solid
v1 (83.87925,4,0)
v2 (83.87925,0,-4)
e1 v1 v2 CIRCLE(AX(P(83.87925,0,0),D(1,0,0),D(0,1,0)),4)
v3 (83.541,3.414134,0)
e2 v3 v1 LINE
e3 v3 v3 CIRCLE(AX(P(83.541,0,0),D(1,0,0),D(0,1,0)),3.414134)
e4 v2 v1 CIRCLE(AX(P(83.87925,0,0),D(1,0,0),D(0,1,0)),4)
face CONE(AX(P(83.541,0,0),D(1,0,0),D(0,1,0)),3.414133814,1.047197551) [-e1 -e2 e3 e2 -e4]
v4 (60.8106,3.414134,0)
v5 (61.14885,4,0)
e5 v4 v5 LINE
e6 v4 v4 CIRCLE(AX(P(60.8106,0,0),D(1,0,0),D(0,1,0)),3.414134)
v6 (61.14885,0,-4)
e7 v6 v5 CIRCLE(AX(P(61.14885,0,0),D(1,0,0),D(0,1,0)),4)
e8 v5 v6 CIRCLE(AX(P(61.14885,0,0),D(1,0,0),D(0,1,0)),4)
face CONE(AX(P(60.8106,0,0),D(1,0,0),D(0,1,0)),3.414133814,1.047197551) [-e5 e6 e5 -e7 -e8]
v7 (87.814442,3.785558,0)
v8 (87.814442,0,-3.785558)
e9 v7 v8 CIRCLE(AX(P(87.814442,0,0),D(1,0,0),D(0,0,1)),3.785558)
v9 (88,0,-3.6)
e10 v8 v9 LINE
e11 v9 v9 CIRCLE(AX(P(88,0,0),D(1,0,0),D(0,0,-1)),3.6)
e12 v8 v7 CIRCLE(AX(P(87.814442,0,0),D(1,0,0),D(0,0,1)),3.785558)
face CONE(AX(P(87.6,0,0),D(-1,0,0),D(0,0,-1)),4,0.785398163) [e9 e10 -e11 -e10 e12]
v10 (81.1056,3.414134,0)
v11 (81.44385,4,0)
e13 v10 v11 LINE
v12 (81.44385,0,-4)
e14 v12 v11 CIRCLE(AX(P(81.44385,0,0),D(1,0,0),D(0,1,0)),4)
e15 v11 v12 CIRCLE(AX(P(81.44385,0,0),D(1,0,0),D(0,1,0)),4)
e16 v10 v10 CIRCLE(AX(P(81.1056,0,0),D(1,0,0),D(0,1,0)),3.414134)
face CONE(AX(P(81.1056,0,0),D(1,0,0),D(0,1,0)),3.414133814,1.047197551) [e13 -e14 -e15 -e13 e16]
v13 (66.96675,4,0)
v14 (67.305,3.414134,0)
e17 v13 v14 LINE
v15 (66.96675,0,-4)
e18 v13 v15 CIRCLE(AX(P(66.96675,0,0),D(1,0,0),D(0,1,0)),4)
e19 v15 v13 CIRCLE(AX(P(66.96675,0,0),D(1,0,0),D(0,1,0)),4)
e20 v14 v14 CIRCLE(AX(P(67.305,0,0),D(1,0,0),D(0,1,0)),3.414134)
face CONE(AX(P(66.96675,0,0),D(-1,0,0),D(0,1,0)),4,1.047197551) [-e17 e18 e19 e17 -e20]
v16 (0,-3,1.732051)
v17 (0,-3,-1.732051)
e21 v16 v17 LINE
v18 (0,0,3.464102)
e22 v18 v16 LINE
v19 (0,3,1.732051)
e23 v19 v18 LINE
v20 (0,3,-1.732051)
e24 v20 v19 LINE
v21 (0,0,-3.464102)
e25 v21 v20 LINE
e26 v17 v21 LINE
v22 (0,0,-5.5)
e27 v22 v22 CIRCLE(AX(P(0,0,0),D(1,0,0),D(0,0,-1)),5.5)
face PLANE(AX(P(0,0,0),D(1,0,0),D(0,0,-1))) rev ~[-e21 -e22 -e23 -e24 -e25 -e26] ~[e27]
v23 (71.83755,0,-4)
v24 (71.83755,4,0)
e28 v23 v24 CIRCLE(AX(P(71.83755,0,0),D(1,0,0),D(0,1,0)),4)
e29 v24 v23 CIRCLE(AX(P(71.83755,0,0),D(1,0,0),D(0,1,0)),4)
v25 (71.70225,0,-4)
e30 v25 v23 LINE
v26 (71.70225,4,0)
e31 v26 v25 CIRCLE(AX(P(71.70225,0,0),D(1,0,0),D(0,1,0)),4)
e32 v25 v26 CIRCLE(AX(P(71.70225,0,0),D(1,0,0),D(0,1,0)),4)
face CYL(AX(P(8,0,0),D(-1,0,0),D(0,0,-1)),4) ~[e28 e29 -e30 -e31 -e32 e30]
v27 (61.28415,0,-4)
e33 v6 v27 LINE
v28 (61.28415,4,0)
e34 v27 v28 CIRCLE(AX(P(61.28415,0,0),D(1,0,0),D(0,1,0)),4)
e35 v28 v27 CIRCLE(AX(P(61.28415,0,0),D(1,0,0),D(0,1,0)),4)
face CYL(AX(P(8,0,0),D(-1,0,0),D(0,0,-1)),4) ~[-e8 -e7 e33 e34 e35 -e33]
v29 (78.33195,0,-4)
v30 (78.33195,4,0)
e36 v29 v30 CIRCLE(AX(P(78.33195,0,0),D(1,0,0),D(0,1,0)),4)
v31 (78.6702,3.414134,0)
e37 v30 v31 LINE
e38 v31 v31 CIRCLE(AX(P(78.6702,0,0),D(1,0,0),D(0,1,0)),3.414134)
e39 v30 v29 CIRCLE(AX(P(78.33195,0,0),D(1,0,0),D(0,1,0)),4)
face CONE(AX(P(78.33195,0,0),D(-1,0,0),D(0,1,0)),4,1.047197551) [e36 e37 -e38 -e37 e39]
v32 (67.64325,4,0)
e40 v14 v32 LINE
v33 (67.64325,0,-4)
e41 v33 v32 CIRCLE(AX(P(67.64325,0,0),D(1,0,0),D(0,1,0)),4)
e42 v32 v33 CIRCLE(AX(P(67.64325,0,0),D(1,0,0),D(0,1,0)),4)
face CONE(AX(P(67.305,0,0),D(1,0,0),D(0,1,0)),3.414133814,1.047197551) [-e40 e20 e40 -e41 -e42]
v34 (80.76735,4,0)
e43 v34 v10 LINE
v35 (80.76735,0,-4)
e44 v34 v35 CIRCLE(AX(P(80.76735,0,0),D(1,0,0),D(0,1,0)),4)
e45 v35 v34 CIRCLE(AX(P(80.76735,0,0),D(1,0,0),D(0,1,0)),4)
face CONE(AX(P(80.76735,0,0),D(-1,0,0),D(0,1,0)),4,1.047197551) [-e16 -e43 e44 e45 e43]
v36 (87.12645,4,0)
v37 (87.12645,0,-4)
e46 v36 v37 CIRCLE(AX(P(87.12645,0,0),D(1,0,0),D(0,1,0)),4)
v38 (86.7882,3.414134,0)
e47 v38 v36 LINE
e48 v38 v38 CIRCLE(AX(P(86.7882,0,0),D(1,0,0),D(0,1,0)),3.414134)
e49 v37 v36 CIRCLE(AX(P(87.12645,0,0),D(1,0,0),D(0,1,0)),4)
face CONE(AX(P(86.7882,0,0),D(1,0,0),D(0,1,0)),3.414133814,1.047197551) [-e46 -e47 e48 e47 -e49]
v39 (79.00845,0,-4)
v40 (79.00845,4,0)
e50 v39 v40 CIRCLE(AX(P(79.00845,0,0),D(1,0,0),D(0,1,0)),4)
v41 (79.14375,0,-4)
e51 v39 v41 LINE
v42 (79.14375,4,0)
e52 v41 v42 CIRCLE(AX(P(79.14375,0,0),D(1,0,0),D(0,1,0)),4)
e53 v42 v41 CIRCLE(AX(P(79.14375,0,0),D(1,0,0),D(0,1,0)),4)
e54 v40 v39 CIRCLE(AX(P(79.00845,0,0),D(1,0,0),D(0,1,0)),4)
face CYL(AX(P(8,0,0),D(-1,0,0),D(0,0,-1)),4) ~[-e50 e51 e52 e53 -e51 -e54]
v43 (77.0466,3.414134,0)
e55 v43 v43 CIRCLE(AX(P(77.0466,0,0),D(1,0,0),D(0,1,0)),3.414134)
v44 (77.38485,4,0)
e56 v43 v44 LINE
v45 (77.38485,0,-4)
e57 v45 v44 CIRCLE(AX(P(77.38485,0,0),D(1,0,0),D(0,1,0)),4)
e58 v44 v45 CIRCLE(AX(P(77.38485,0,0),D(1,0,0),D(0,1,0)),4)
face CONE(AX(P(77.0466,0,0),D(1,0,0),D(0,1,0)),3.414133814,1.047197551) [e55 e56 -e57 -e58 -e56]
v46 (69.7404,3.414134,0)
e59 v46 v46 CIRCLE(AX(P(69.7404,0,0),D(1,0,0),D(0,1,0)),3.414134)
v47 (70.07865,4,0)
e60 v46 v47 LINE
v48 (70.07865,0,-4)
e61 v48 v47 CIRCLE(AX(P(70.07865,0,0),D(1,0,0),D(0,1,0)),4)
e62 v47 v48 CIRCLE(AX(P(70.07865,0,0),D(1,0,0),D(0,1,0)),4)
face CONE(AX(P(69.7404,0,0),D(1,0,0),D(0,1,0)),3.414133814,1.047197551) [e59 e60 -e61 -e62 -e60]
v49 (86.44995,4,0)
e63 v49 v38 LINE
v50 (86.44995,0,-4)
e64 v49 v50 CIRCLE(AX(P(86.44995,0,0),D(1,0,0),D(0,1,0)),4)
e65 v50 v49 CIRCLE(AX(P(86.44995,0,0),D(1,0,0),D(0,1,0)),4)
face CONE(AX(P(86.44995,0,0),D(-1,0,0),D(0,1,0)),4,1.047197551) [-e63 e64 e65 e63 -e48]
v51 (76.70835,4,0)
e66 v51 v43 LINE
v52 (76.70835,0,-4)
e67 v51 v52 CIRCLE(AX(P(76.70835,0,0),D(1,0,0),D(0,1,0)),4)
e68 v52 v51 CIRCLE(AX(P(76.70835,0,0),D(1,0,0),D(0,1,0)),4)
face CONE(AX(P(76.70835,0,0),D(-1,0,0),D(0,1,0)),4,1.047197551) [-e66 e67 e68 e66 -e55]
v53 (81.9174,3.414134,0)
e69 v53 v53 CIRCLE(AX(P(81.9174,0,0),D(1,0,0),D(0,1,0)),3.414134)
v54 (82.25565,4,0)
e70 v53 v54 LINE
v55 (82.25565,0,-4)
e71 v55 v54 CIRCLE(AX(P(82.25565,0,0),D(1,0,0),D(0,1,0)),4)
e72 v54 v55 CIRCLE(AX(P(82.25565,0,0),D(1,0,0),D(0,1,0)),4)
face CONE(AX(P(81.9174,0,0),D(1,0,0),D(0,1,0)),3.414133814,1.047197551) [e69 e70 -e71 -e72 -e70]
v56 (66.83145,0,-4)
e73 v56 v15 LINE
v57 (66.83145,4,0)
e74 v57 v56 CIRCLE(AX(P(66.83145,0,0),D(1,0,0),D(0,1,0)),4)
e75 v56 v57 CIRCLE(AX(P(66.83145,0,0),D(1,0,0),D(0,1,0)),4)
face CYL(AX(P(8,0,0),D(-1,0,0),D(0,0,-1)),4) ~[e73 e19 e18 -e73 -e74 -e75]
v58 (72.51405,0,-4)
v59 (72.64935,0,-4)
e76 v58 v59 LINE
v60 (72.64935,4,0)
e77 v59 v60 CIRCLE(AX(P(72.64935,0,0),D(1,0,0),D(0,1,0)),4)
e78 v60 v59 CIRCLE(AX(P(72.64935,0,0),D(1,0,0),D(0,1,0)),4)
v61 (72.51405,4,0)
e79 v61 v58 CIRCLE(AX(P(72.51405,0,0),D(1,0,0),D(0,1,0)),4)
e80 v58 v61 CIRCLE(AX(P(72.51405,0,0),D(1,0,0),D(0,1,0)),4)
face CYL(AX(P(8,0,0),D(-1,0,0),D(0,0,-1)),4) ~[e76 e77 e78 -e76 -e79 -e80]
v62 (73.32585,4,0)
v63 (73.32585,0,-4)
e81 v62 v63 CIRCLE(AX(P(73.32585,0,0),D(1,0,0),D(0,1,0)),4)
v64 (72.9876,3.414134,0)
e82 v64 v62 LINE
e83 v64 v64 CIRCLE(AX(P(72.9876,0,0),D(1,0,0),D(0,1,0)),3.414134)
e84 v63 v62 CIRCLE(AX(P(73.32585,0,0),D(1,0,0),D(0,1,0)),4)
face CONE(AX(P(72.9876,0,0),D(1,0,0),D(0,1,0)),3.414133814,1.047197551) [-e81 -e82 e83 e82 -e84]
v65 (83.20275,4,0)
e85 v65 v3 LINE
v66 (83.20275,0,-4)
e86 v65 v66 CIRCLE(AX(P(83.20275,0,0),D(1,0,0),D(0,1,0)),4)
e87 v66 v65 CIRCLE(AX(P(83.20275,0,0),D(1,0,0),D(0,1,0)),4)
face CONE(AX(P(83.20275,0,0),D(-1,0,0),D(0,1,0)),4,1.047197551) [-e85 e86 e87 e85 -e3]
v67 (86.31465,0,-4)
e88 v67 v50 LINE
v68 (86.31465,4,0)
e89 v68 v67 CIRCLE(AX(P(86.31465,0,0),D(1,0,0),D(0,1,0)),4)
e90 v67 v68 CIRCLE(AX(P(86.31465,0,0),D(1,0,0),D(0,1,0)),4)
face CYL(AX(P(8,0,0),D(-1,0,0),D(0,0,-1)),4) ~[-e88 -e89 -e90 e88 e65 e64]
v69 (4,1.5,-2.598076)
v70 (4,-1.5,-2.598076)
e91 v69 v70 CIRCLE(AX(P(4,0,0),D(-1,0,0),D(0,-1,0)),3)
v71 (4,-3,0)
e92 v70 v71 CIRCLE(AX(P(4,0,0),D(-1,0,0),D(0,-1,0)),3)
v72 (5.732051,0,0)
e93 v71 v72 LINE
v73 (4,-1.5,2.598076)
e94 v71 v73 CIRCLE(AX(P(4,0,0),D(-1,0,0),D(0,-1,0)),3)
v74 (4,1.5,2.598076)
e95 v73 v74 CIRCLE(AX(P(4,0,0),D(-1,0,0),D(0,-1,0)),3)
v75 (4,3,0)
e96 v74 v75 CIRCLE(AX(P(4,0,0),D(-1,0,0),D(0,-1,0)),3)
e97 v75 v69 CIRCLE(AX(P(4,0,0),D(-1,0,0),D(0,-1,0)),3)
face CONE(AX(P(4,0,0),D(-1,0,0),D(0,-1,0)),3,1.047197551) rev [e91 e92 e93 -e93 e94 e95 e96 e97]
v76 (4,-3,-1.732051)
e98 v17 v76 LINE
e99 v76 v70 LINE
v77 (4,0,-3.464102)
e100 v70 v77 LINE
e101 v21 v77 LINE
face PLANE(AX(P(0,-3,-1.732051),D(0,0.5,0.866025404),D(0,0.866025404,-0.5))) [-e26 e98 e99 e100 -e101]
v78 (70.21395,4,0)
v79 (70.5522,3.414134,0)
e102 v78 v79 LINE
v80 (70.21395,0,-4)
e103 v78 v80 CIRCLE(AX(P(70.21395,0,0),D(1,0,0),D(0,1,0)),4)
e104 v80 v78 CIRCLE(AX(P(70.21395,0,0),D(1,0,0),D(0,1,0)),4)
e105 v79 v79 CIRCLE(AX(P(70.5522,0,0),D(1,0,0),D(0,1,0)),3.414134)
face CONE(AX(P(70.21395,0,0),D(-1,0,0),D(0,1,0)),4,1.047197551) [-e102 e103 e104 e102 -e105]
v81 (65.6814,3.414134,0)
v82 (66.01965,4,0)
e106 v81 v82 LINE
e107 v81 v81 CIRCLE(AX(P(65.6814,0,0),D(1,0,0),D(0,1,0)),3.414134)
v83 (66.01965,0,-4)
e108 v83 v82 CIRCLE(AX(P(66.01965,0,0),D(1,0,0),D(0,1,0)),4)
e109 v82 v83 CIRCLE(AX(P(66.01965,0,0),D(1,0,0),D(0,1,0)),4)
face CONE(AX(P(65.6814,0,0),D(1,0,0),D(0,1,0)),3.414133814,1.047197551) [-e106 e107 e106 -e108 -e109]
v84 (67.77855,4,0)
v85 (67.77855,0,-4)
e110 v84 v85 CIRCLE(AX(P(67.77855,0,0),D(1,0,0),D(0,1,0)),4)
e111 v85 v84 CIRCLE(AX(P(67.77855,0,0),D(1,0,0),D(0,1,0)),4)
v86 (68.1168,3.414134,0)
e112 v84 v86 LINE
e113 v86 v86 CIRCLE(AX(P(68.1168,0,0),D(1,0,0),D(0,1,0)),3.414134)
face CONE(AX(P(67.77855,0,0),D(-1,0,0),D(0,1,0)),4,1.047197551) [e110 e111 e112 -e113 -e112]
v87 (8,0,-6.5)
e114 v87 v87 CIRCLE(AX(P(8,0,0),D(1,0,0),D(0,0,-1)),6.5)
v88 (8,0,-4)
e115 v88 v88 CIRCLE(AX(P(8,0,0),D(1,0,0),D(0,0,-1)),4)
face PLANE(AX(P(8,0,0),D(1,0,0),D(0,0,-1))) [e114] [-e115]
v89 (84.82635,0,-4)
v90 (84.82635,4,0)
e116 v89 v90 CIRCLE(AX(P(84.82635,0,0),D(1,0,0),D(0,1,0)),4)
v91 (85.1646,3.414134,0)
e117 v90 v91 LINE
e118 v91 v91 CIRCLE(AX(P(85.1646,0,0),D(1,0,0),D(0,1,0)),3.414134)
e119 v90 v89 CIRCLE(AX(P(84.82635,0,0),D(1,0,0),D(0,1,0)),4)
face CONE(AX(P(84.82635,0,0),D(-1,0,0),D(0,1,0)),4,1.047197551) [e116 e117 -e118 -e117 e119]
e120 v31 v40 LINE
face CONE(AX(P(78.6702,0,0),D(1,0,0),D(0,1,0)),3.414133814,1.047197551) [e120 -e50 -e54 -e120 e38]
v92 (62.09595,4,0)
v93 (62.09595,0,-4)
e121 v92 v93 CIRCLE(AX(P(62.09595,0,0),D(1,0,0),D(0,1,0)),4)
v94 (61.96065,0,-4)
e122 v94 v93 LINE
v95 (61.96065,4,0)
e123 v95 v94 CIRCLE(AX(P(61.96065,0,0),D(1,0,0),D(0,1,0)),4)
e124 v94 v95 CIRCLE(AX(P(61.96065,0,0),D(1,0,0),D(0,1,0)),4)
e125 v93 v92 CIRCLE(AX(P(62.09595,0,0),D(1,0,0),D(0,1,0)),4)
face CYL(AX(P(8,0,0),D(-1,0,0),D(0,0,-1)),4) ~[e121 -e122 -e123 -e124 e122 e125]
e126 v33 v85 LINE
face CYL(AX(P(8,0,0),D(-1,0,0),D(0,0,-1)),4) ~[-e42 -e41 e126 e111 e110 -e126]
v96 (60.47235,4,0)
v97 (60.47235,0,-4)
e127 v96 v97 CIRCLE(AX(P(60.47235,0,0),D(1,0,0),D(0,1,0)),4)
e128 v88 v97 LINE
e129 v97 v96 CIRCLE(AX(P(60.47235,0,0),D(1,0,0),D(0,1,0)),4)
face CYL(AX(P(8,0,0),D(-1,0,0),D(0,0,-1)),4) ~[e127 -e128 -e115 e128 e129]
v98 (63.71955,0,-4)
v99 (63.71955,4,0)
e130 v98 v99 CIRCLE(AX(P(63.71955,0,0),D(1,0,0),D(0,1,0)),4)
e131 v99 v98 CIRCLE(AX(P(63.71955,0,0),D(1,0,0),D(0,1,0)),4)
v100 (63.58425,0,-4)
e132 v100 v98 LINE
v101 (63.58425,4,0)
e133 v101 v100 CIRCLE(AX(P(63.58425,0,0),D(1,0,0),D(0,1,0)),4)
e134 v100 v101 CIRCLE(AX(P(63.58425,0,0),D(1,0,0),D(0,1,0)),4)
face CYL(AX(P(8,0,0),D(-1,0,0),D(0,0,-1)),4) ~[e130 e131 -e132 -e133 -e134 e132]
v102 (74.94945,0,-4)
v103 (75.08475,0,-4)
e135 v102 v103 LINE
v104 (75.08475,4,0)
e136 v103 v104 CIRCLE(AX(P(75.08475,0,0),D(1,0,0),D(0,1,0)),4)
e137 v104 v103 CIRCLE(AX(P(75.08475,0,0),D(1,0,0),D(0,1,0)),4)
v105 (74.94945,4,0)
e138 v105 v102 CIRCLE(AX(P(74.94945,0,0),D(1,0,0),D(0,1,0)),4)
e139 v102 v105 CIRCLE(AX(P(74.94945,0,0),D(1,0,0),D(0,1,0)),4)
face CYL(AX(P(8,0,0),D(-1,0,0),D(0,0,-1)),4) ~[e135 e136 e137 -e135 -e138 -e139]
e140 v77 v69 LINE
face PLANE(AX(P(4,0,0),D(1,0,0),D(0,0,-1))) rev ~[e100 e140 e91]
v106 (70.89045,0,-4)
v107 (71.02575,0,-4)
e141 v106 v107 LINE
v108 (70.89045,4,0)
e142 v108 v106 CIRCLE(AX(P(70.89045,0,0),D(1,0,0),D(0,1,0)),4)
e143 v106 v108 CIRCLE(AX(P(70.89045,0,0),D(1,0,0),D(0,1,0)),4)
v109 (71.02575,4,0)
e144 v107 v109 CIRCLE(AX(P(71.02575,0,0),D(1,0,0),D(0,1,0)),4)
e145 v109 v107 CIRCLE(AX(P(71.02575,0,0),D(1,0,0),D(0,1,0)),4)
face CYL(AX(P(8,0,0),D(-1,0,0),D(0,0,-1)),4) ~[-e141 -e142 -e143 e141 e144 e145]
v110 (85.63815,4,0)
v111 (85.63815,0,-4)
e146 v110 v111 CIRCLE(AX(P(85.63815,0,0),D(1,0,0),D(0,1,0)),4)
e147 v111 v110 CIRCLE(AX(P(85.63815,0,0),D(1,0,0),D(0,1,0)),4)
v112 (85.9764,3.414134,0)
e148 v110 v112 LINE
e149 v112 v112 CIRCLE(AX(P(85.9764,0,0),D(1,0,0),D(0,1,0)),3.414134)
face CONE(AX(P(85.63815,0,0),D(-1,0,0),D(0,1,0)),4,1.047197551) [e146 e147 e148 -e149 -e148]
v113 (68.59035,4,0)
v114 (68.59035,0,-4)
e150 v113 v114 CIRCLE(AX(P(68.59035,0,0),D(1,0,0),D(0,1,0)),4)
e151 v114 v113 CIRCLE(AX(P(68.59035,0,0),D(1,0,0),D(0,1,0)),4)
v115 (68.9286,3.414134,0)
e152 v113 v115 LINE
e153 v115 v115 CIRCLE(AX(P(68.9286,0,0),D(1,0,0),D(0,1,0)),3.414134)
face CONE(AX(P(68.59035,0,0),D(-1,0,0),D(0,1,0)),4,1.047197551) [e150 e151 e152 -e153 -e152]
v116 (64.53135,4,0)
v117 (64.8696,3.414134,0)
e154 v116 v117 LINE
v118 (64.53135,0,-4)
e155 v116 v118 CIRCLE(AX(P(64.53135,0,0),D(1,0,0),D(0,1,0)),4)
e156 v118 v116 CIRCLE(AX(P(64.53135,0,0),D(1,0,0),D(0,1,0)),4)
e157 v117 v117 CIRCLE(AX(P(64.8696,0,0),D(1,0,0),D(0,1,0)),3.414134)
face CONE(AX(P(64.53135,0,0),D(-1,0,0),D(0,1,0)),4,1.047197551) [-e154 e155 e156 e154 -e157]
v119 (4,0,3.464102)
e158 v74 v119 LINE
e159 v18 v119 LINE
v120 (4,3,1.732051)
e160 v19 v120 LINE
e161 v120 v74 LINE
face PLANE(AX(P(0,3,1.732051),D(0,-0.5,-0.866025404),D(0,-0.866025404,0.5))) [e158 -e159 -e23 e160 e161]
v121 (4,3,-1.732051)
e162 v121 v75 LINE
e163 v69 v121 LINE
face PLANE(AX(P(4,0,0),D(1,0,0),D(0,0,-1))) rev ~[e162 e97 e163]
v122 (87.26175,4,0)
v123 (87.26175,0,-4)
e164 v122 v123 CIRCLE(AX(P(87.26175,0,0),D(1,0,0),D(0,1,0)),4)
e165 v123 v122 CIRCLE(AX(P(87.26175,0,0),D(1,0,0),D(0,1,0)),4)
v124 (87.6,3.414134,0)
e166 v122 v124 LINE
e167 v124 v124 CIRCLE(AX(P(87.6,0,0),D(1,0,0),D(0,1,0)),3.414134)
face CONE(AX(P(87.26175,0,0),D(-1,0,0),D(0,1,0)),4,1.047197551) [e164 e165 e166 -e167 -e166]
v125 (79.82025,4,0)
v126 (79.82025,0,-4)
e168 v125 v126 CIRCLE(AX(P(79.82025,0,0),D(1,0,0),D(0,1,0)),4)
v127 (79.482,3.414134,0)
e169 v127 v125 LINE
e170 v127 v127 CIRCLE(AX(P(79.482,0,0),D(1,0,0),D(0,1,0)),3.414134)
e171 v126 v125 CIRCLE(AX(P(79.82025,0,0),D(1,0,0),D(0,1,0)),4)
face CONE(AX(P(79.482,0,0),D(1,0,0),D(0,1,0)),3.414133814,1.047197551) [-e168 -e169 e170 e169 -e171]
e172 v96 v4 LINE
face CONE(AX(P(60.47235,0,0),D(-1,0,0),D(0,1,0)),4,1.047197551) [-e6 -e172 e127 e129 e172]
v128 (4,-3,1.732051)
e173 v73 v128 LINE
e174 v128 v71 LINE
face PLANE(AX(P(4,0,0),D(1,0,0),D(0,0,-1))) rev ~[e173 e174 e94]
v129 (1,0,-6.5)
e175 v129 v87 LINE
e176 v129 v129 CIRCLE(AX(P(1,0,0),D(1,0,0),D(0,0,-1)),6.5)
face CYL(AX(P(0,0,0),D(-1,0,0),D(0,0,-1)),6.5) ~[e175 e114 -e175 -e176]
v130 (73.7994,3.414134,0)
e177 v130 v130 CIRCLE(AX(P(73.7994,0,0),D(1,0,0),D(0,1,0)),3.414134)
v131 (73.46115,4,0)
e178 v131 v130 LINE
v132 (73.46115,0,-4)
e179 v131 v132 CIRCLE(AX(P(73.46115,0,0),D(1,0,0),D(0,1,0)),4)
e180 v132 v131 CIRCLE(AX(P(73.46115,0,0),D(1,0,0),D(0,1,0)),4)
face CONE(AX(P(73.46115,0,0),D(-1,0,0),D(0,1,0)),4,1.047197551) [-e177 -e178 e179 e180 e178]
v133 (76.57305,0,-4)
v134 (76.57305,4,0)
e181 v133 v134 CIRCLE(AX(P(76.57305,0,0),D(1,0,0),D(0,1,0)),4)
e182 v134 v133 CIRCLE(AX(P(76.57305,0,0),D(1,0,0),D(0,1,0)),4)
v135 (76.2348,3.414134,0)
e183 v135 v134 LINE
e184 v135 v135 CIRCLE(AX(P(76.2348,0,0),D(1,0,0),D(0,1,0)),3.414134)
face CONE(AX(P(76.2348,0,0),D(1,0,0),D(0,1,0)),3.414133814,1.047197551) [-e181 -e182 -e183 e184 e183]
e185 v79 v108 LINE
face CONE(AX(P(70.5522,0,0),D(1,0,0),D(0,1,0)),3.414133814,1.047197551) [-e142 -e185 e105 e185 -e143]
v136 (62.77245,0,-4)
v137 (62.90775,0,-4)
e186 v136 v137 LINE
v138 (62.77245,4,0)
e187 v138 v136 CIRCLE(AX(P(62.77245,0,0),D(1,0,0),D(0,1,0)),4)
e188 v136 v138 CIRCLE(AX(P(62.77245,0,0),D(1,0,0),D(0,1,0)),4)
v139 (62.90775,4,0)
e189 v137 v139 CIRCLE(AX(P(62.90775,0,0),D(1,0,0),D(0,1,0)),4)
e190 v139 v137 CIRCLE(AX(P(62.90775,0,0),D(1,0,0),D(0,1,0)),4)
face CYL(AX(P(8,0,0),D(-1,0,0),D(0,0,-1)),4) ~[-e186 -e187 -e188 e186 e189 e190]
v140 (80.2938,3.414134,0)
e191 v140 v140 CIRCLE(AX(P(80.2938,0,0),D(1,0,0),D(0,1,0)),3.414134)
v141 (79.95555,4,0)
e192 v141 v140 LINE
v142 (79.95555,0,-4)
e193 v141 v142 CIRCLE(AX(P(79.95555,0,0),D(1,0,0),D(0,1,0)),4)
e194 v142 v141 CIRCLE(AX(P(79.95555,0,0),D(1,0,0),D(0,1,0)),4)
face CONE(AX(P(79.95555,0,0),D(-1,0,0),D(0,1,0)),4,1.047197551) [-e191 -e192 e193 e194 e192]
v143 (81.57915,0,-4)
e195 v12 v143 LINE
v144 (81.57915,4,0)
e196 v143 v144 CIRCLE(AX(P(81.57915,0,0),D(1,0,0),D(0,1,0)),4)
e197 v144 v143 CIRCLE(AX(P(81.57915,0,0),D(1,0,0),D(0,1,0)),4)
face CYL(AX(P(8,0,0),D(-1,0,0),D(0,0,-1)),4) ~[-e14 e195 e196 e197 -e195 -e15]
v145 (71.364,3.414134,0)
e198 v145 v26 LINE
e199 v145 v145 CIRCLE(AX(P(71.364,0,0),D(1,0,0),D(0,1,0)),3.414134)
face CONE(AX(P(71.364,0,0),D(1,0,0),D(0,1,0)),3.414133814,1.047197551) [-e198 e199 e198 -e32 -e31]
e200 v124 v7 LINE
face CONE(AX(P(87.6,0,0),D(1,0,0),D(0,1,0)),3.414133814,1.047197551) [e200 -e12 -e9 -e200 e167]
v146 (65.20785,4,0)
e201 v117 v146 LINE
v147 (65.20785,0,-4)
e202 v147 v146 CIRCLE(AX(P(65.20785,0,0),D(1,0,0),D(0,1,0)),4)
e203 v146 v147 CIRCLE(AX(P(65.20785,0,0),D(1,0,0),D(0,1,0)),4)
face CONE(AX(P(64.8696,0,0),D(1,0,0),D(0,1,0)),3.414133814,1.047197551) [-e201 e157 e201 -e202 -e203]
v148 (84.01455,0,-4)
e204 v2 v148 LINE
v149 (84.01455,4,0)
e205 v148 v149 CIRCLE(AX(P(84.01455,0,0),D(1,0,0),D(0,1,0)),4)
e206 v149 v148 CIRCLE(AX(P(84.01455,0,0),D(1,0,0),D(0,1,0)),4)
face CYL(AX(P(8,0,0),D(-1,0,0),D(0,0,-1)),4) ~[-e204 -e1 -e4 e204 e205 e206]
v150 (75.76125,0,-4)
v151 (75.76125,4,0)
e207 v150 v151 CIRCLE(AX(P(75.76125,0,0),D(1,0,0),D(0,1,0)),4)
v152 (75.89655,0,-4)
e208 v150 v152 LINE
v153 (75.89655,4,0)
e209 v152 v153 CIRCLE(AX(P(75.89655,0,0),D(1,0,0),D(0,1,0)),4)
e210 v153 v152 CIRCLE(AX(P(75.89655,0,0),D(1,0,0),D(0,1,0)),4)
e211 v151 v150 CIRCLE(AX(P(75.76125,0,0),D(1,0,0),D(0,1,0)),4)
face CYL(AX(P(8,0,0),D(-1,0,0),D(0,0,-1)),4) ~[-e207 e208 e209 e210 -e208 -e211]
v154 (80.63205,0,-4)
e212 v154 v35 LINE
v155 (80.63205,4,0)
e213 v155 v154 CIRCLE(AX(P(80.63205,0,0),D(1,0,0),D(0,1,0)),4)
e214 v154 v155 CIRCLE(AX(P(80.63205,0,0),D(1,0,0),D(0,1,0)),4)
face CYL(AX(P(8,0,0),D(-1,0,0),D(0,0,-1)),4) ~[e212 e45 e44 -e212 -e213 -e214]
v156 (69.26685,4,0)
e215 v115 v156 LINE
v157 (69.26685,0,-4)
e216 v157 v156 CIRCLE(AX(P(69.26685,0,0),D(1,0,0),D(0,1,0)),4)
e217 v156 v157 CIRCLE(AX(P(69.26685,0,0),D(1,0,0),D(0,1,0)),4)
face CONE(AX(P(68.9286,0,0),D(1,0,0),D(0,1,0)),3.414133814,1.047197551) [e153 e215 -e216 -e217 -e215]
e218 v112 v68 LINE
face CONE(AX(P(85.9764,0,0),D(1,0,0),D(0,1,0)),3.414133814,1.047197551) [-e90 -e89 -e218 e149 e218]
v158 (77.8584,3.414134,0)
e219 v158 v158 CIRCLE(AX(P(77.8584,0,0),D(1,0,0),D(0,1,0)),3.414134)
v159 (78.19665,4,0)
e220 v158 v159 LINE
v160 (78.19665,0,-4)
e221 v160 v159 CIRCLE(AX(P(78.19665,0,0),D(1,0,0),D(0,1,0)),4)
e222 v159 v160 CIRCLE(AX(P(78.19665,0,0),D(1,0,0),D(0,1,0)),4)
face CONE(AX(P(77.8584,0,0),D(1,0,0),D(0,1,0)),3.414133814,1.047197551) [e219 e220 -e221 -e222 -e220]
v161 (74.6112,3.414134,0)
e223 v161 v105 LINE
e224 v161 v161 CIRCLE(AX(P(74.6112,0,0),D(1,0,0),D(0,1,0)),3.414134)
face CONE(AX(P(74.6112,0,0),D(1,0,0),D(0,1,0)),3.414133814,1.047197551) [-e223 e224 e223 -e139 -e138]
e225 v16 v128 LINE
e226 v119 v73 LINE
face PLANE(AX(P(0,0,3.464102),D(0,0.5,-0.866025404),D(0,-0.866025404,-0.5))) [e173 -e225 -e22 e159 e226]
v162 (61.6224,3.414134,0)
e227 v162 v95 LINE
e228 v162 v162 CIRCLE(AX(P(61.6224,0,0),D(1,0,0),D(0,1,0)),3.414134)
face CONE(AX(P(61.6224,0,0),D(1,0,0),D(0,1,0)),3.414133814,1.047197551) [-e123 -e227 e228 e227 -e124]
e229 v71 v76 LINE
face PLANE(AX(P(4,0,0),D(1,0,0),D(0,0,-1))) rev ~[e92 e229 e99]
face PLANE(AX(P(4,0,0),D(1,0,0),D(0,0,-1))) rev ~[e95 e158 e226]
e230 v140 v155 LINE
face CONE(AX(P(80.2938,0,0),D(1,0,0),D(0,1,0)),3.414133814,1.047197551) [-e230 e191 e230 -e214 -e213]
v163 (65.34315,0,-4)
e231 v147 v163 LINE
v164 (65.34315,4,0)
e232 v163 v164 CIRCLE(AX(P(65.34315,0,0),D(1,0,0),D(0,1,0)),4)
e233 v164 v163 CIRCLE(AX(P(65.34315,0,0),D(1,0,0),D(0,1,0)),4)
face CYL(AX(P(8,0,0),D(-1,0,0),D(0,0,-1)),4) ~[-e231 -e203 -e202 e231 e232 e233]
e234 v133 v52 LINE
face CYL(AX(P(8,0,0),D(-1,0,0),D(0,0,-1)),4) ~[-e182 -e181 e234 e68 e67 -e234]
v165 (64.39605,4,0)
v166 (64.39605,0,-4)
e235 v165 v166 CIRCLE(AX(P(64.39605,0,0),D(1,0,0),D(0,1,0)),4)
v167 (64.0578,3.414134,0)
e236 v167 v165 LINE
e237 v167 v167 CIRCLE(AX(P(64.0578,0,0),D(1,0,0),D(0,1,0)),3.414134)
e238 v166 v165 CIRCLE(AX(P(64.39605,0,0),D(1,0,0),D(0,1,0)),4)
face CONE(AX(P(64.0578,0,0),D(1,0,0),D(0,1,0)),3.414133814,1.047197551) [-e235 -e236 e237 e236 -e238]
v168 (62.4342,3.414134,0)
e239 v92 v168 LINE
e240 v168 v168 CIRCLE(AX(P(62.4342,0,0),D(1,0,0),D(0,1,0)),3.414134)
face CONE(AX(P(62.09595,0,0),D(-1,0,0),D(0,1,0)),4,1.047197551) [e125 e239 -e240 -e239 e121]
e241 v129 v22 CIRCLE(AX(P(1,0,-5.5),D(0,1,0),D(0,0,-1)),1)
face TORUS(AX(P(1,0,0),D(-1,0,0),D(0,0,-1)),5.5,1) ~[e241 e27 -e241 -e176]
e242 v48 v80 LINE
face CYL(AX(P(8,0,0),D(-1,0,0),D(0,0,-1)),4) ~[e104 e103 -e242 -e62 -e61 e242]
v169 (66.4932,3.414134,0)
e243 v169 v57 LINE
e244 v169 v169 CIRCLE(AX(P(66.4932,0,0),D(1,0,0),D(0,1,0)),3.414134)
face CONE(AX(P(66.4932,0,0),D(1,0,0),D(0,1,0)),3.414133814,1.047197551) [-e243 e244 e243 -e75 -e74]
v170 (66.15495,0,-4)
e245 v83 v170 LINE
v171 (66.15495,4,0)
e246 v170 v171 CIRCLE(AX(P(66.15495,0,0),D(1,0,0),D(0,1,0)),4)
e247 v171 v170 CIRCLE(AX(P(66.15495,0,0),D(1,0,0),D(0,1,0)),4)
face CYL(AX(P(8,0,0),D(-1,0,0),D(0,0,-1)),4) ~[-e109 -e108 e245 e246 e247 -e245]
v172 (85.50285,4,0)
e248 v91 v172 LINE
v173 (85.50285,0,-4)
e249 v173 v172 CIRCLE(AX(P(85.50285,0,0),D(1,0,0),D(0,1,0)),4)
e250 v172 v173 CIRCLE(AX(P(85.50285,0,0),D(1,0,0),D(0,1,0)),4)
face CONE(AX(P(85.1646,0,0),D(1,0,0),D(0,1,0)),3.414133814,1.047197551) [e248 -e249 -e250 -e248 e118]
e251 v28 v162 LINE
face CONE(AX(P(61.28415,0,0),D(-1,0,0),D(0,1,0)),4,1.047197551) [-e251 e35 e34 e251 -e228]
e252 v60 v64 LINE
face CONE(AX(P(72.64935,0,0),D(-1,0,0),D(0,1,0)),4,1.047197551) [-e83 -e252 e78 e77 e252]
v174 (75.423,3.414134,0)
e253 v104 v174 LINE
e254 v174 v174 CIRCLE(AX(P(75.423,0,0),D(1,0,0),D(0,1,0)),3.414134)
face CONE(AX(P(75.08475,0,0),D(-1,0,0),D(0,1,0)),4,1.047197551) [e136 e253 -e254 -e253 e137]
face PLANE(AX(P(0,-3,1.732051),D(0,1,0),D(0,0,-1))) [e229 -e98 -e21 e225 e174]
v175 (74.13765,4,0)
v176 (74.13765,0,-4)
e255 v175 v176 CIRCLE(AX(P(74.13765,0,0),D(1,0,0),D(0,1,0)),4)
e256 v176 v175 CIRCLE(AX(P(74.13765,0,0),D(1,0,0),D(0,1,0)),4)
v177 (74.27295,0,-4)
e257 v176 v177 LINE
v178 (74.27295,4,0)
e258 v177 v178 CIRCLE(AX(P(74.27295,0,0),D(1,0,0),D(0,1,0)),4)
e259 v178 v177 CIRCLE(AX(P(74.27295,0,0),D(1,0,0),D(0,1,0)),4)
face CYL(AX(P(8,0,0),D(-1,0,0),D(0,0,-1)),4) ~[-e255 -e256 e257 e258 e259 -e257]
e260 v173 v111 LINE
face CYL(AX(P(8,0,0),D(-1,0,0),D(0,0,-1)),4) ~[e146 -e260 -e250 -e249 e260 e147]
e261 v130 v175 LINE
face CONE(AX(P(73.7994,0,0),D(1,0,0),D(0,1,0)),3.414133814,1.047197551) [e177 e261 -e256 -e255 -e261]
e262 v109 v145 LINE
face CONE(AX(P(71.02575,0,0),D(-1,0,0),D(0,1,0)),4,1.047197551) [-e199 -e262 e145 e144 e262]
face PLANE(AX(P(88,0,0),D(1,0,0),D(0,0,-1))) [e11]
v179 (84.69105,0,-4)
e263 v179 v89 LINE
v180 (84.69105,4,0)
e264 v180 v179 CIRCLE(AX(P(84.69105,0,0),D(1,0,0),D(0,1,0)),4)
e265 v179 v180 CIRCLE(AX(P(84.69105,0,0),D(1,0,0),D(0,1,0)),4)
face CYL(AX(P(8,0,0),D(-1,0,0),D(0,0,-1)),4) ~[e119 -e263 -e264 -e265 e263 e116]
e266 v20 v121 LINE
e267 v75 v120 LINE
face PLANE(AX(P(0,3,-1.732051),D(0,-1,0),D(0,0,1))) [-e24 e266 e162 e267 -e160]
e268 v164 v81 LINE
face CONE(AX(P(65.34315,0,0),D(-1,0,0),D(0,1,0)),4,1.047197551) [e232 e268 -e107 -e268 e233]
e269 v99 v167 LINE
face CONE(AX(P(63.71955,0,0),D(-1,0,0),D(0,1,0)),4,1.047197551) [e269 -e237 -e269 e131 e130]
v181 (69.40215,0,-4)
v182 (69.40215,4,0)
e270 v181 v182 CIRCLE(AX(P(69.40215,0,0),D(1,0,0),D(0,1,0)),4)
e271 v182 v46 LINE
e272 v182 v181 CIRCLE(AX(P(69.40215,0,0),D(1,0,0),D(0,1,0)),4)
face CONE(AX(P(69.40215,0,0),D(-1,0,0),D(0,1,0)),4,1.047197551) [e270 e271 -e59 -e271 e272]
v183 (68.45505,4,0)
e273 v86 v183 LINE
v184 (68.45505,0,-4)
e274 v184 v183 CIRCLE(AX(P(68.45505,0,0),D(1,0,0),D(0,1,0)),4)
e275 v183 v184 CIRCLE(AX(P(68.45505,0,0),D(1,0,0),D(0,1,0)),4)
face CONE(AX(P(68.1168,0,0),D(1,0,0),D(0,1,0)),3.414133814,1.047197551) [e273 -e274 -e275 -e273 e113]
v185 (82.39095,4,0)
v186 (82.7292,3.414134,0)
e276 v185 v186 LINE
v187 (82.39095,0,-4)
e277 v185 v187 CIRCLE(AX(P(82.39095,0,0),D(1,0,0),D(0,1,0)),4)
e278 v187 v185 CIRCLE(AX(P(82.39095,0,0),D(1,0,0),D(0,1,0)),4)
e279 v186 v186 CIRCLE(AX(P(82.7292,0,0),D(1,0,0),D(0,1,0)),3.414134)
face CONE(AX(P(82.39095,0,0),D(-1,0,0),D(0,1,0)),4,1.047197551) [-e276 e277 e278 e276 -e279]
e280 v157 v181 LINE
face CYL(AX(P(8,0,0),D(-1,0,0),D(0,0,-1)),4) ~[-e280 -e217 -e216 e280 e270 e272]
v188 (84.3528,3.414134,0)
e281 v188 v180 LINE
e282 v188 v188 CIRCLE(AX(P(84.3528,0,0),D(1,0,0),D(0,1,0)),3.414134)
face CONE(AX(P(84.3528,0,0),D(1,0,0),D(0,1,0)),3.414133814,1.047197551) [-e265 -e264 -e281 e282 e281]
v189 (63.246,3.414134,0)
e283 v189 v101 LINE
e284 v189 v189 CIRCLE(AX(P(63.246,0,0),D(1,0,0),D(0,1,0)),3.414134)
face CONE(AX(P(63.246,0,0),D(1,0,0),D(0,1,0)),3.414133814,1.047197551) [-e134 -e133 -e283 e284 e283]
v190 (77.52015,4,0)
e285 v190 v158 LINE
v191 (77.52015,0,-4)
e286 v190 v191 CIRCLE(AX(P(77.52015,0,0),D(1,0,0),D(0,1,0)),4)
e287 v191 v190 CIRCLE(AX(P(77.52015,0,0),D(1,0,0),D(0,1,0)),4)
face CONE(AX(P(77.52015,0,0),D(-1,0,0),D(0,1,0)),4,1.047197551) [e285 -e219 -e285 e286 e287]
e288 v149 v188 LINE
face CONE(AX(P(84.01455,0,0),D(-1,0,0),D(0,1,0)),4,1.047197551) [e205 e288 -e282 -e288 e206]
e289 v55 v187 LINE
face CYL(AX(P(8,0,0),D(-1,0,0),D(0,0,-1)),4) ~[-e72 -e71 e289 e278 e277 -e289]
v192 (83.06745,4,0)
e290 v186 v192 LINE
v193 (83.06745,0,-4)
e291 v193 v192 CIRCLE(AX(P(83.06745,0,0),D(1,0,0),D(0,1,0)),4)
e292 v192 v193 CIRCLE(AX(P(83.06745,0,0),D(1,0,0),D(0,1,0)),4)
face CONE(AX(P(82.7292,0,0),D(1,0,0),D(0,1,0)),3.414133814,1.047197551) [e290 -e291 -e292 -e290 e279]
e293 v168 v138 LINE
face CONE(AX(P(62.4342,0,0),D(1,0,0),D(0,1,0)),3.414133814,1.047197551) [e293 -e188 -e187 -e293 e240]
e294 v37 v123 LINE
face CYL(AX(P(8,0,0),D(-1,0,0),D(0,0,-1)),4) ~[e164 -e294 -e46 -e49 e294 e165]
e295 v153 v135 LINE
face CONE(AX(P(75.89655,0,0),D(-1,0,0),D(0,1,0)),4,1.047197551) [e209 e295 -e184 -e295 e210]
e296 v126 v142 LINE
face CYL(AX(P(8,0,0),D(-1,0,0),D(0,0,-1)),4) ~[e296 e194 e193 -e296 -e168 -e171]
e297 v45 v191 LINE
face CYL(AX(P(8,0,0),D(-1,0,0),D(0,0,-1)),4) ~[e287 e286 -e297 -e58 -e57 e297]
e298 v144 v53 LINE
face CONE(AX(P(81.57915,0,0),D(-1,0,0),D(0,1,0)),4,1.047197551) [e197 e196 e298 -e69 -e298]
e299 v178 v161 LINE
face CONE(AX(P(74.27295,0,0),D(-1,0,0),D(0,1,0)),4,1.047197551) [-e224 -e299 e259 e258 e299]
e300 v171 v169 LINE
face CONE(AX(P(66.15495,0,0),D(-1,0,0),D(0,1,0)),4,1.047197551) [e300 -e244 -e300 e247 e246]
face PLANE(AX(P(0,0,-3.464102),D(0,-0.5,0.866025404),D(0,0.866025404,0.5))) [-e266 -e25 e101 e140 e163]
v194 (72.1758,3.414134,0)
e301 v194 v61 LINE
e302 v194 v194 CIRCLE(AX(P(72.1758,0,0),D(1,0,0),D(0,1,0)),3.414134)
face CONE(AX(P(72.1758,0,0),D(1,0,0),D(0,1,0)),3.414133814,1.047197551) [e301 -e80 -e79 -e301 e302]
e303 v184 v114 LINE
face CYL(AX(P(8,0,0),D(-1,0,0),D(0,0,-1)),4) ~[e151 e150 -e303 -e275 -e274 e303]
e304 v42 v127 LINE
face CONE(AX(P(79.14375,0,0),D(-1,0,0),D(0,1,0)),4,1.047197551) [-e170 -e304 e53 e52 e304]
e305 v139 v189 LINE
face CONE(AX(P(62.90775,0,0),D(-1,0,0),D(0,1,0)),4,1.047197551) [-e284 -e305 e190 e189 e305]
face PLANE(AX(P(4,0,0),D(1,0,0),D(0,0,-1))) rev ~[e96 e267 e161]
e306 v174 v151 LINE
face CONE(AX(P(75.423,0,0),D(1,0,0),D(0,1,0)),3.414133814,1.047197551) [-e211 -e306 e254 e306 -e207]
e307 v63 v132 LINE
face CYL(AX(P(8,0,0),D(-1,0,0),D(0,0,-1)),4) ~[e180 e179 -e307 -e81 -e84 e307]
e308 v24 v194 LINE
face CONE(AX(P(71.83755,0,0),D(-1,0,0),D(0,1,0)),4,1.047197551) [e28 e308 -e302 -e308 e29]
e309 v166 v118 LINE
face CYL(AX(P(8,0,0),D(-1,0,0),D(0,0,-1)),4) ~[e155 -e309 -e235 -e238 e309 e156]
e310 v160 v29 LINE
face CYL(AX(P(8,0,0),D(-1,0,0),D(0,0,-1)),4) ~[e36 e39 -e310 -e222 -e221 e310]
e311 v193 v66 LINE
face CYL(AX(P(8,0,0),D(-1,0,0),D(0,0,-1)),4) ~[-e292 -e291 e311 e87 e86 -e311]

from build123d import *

# Parameters (mm, degrees)
SKETCH1_R           = 6.5
BASEHEAD_DEPTH      = 8
SKETCH2_R           = 4
BASEBODY_DEPTH      = 80
HEXAGONSOCKET_DEPTH = 4
TOPFILLET_R         = 1
CHAMFER1_SIZE       = 0.4
LPATTERN10_COUNT    = 34
LPATTERN10_PITCH    = 0.8118


with BuildPart() as part:
    # Sketch1 → BaseHead (new body)
    with BuildSketch(Plane(origin=(0, 0, 0), x_dir=(0, 0, -1), z_dir=(1, 0, 0))):
        Circle(SKETCH1_R)
    extrude(amount=BASEHEAD_DEPTH)

    # Sketch2 → BaseBody (add)
    with BuildSketch(Plane(origin=(8, 0, 0), x_dir=(0, 0, -1), z_dir=(1, 0, 0))):
        Circle(SKETCH2_R)
    extrude(amount=BASEBODY_DEPTH)

    # Sketch3 → HexagonSocket (cut)
    with BuildSketch(Plane(origin=(0, 0, 0), x_dir=(0, 0, -1), z_dir=(1, 0, 0))):
        Polygon((3.464101615, 0), (1.732050808, 3), (-1.732050808, 3), (-3.464101615, 0), (-1.732050808, -3), (1.732050808, -3), align=None)
    extrude(amount=HEXAGONSOCKET_DEPTH, mode=Mode.SUBTRACT)

    # Sketch4 → Cut-Revolve1 (revolve, cut)
    with BuildSketch(Plane(origin=(-4.19613823, 0.75, 0), x_dir=(-1, 0, 0), z_dir=(0, 0, 1))):
        Polygon((-8.19613823, 3.75), (-9.928189037, 0.75), (-8.19613823, 0.75), align=None)
    revolve(axis=Axis((0.838992387, 0, 0), (-1, 0, 0)), mode=Mode.SUBTRACT)

    # TopFillet
    topfillet_edges = [part.edges().sort_by_distance(p)[0] for p in [
        (0, 0, 6.5),
    ]]
    fillet(topfillet_edges, radius=TOPFILLET_R)

    # Chamfer1
    chamfer1_edges = [part.edges().sort_by_distance(p)[0] for p in [
        (88, 0, 4),
    ]]
    chamfer(chamfer1_edges, length=CHAMFER1_SIZE)

    # Sketch5 → Cut-Revolve10 (revolve, cut)
    with BuildSketch(Plane.XY):
        Polygon((87.6, 3.414133814), (87.93825, 4), (87.93825, 4.6765), (87.26175, 4.6765), (87.26175, 4), align=None)
    cut_revolve10 = revolve(axis=Axis((0, 0, 0), (1, 0, 0)), mode=Mode.SUBTRACT)

    # LPattern10: Cut-Revolve10 ×34
    with Locations(*[(-i * LPATTERN10_PITCH, 0, 0) for i in range(1, LPATTERN10_COUNT)]):
        add(cut_revolve10, mode=Mode.SUBTRACT)


solid = part.part
